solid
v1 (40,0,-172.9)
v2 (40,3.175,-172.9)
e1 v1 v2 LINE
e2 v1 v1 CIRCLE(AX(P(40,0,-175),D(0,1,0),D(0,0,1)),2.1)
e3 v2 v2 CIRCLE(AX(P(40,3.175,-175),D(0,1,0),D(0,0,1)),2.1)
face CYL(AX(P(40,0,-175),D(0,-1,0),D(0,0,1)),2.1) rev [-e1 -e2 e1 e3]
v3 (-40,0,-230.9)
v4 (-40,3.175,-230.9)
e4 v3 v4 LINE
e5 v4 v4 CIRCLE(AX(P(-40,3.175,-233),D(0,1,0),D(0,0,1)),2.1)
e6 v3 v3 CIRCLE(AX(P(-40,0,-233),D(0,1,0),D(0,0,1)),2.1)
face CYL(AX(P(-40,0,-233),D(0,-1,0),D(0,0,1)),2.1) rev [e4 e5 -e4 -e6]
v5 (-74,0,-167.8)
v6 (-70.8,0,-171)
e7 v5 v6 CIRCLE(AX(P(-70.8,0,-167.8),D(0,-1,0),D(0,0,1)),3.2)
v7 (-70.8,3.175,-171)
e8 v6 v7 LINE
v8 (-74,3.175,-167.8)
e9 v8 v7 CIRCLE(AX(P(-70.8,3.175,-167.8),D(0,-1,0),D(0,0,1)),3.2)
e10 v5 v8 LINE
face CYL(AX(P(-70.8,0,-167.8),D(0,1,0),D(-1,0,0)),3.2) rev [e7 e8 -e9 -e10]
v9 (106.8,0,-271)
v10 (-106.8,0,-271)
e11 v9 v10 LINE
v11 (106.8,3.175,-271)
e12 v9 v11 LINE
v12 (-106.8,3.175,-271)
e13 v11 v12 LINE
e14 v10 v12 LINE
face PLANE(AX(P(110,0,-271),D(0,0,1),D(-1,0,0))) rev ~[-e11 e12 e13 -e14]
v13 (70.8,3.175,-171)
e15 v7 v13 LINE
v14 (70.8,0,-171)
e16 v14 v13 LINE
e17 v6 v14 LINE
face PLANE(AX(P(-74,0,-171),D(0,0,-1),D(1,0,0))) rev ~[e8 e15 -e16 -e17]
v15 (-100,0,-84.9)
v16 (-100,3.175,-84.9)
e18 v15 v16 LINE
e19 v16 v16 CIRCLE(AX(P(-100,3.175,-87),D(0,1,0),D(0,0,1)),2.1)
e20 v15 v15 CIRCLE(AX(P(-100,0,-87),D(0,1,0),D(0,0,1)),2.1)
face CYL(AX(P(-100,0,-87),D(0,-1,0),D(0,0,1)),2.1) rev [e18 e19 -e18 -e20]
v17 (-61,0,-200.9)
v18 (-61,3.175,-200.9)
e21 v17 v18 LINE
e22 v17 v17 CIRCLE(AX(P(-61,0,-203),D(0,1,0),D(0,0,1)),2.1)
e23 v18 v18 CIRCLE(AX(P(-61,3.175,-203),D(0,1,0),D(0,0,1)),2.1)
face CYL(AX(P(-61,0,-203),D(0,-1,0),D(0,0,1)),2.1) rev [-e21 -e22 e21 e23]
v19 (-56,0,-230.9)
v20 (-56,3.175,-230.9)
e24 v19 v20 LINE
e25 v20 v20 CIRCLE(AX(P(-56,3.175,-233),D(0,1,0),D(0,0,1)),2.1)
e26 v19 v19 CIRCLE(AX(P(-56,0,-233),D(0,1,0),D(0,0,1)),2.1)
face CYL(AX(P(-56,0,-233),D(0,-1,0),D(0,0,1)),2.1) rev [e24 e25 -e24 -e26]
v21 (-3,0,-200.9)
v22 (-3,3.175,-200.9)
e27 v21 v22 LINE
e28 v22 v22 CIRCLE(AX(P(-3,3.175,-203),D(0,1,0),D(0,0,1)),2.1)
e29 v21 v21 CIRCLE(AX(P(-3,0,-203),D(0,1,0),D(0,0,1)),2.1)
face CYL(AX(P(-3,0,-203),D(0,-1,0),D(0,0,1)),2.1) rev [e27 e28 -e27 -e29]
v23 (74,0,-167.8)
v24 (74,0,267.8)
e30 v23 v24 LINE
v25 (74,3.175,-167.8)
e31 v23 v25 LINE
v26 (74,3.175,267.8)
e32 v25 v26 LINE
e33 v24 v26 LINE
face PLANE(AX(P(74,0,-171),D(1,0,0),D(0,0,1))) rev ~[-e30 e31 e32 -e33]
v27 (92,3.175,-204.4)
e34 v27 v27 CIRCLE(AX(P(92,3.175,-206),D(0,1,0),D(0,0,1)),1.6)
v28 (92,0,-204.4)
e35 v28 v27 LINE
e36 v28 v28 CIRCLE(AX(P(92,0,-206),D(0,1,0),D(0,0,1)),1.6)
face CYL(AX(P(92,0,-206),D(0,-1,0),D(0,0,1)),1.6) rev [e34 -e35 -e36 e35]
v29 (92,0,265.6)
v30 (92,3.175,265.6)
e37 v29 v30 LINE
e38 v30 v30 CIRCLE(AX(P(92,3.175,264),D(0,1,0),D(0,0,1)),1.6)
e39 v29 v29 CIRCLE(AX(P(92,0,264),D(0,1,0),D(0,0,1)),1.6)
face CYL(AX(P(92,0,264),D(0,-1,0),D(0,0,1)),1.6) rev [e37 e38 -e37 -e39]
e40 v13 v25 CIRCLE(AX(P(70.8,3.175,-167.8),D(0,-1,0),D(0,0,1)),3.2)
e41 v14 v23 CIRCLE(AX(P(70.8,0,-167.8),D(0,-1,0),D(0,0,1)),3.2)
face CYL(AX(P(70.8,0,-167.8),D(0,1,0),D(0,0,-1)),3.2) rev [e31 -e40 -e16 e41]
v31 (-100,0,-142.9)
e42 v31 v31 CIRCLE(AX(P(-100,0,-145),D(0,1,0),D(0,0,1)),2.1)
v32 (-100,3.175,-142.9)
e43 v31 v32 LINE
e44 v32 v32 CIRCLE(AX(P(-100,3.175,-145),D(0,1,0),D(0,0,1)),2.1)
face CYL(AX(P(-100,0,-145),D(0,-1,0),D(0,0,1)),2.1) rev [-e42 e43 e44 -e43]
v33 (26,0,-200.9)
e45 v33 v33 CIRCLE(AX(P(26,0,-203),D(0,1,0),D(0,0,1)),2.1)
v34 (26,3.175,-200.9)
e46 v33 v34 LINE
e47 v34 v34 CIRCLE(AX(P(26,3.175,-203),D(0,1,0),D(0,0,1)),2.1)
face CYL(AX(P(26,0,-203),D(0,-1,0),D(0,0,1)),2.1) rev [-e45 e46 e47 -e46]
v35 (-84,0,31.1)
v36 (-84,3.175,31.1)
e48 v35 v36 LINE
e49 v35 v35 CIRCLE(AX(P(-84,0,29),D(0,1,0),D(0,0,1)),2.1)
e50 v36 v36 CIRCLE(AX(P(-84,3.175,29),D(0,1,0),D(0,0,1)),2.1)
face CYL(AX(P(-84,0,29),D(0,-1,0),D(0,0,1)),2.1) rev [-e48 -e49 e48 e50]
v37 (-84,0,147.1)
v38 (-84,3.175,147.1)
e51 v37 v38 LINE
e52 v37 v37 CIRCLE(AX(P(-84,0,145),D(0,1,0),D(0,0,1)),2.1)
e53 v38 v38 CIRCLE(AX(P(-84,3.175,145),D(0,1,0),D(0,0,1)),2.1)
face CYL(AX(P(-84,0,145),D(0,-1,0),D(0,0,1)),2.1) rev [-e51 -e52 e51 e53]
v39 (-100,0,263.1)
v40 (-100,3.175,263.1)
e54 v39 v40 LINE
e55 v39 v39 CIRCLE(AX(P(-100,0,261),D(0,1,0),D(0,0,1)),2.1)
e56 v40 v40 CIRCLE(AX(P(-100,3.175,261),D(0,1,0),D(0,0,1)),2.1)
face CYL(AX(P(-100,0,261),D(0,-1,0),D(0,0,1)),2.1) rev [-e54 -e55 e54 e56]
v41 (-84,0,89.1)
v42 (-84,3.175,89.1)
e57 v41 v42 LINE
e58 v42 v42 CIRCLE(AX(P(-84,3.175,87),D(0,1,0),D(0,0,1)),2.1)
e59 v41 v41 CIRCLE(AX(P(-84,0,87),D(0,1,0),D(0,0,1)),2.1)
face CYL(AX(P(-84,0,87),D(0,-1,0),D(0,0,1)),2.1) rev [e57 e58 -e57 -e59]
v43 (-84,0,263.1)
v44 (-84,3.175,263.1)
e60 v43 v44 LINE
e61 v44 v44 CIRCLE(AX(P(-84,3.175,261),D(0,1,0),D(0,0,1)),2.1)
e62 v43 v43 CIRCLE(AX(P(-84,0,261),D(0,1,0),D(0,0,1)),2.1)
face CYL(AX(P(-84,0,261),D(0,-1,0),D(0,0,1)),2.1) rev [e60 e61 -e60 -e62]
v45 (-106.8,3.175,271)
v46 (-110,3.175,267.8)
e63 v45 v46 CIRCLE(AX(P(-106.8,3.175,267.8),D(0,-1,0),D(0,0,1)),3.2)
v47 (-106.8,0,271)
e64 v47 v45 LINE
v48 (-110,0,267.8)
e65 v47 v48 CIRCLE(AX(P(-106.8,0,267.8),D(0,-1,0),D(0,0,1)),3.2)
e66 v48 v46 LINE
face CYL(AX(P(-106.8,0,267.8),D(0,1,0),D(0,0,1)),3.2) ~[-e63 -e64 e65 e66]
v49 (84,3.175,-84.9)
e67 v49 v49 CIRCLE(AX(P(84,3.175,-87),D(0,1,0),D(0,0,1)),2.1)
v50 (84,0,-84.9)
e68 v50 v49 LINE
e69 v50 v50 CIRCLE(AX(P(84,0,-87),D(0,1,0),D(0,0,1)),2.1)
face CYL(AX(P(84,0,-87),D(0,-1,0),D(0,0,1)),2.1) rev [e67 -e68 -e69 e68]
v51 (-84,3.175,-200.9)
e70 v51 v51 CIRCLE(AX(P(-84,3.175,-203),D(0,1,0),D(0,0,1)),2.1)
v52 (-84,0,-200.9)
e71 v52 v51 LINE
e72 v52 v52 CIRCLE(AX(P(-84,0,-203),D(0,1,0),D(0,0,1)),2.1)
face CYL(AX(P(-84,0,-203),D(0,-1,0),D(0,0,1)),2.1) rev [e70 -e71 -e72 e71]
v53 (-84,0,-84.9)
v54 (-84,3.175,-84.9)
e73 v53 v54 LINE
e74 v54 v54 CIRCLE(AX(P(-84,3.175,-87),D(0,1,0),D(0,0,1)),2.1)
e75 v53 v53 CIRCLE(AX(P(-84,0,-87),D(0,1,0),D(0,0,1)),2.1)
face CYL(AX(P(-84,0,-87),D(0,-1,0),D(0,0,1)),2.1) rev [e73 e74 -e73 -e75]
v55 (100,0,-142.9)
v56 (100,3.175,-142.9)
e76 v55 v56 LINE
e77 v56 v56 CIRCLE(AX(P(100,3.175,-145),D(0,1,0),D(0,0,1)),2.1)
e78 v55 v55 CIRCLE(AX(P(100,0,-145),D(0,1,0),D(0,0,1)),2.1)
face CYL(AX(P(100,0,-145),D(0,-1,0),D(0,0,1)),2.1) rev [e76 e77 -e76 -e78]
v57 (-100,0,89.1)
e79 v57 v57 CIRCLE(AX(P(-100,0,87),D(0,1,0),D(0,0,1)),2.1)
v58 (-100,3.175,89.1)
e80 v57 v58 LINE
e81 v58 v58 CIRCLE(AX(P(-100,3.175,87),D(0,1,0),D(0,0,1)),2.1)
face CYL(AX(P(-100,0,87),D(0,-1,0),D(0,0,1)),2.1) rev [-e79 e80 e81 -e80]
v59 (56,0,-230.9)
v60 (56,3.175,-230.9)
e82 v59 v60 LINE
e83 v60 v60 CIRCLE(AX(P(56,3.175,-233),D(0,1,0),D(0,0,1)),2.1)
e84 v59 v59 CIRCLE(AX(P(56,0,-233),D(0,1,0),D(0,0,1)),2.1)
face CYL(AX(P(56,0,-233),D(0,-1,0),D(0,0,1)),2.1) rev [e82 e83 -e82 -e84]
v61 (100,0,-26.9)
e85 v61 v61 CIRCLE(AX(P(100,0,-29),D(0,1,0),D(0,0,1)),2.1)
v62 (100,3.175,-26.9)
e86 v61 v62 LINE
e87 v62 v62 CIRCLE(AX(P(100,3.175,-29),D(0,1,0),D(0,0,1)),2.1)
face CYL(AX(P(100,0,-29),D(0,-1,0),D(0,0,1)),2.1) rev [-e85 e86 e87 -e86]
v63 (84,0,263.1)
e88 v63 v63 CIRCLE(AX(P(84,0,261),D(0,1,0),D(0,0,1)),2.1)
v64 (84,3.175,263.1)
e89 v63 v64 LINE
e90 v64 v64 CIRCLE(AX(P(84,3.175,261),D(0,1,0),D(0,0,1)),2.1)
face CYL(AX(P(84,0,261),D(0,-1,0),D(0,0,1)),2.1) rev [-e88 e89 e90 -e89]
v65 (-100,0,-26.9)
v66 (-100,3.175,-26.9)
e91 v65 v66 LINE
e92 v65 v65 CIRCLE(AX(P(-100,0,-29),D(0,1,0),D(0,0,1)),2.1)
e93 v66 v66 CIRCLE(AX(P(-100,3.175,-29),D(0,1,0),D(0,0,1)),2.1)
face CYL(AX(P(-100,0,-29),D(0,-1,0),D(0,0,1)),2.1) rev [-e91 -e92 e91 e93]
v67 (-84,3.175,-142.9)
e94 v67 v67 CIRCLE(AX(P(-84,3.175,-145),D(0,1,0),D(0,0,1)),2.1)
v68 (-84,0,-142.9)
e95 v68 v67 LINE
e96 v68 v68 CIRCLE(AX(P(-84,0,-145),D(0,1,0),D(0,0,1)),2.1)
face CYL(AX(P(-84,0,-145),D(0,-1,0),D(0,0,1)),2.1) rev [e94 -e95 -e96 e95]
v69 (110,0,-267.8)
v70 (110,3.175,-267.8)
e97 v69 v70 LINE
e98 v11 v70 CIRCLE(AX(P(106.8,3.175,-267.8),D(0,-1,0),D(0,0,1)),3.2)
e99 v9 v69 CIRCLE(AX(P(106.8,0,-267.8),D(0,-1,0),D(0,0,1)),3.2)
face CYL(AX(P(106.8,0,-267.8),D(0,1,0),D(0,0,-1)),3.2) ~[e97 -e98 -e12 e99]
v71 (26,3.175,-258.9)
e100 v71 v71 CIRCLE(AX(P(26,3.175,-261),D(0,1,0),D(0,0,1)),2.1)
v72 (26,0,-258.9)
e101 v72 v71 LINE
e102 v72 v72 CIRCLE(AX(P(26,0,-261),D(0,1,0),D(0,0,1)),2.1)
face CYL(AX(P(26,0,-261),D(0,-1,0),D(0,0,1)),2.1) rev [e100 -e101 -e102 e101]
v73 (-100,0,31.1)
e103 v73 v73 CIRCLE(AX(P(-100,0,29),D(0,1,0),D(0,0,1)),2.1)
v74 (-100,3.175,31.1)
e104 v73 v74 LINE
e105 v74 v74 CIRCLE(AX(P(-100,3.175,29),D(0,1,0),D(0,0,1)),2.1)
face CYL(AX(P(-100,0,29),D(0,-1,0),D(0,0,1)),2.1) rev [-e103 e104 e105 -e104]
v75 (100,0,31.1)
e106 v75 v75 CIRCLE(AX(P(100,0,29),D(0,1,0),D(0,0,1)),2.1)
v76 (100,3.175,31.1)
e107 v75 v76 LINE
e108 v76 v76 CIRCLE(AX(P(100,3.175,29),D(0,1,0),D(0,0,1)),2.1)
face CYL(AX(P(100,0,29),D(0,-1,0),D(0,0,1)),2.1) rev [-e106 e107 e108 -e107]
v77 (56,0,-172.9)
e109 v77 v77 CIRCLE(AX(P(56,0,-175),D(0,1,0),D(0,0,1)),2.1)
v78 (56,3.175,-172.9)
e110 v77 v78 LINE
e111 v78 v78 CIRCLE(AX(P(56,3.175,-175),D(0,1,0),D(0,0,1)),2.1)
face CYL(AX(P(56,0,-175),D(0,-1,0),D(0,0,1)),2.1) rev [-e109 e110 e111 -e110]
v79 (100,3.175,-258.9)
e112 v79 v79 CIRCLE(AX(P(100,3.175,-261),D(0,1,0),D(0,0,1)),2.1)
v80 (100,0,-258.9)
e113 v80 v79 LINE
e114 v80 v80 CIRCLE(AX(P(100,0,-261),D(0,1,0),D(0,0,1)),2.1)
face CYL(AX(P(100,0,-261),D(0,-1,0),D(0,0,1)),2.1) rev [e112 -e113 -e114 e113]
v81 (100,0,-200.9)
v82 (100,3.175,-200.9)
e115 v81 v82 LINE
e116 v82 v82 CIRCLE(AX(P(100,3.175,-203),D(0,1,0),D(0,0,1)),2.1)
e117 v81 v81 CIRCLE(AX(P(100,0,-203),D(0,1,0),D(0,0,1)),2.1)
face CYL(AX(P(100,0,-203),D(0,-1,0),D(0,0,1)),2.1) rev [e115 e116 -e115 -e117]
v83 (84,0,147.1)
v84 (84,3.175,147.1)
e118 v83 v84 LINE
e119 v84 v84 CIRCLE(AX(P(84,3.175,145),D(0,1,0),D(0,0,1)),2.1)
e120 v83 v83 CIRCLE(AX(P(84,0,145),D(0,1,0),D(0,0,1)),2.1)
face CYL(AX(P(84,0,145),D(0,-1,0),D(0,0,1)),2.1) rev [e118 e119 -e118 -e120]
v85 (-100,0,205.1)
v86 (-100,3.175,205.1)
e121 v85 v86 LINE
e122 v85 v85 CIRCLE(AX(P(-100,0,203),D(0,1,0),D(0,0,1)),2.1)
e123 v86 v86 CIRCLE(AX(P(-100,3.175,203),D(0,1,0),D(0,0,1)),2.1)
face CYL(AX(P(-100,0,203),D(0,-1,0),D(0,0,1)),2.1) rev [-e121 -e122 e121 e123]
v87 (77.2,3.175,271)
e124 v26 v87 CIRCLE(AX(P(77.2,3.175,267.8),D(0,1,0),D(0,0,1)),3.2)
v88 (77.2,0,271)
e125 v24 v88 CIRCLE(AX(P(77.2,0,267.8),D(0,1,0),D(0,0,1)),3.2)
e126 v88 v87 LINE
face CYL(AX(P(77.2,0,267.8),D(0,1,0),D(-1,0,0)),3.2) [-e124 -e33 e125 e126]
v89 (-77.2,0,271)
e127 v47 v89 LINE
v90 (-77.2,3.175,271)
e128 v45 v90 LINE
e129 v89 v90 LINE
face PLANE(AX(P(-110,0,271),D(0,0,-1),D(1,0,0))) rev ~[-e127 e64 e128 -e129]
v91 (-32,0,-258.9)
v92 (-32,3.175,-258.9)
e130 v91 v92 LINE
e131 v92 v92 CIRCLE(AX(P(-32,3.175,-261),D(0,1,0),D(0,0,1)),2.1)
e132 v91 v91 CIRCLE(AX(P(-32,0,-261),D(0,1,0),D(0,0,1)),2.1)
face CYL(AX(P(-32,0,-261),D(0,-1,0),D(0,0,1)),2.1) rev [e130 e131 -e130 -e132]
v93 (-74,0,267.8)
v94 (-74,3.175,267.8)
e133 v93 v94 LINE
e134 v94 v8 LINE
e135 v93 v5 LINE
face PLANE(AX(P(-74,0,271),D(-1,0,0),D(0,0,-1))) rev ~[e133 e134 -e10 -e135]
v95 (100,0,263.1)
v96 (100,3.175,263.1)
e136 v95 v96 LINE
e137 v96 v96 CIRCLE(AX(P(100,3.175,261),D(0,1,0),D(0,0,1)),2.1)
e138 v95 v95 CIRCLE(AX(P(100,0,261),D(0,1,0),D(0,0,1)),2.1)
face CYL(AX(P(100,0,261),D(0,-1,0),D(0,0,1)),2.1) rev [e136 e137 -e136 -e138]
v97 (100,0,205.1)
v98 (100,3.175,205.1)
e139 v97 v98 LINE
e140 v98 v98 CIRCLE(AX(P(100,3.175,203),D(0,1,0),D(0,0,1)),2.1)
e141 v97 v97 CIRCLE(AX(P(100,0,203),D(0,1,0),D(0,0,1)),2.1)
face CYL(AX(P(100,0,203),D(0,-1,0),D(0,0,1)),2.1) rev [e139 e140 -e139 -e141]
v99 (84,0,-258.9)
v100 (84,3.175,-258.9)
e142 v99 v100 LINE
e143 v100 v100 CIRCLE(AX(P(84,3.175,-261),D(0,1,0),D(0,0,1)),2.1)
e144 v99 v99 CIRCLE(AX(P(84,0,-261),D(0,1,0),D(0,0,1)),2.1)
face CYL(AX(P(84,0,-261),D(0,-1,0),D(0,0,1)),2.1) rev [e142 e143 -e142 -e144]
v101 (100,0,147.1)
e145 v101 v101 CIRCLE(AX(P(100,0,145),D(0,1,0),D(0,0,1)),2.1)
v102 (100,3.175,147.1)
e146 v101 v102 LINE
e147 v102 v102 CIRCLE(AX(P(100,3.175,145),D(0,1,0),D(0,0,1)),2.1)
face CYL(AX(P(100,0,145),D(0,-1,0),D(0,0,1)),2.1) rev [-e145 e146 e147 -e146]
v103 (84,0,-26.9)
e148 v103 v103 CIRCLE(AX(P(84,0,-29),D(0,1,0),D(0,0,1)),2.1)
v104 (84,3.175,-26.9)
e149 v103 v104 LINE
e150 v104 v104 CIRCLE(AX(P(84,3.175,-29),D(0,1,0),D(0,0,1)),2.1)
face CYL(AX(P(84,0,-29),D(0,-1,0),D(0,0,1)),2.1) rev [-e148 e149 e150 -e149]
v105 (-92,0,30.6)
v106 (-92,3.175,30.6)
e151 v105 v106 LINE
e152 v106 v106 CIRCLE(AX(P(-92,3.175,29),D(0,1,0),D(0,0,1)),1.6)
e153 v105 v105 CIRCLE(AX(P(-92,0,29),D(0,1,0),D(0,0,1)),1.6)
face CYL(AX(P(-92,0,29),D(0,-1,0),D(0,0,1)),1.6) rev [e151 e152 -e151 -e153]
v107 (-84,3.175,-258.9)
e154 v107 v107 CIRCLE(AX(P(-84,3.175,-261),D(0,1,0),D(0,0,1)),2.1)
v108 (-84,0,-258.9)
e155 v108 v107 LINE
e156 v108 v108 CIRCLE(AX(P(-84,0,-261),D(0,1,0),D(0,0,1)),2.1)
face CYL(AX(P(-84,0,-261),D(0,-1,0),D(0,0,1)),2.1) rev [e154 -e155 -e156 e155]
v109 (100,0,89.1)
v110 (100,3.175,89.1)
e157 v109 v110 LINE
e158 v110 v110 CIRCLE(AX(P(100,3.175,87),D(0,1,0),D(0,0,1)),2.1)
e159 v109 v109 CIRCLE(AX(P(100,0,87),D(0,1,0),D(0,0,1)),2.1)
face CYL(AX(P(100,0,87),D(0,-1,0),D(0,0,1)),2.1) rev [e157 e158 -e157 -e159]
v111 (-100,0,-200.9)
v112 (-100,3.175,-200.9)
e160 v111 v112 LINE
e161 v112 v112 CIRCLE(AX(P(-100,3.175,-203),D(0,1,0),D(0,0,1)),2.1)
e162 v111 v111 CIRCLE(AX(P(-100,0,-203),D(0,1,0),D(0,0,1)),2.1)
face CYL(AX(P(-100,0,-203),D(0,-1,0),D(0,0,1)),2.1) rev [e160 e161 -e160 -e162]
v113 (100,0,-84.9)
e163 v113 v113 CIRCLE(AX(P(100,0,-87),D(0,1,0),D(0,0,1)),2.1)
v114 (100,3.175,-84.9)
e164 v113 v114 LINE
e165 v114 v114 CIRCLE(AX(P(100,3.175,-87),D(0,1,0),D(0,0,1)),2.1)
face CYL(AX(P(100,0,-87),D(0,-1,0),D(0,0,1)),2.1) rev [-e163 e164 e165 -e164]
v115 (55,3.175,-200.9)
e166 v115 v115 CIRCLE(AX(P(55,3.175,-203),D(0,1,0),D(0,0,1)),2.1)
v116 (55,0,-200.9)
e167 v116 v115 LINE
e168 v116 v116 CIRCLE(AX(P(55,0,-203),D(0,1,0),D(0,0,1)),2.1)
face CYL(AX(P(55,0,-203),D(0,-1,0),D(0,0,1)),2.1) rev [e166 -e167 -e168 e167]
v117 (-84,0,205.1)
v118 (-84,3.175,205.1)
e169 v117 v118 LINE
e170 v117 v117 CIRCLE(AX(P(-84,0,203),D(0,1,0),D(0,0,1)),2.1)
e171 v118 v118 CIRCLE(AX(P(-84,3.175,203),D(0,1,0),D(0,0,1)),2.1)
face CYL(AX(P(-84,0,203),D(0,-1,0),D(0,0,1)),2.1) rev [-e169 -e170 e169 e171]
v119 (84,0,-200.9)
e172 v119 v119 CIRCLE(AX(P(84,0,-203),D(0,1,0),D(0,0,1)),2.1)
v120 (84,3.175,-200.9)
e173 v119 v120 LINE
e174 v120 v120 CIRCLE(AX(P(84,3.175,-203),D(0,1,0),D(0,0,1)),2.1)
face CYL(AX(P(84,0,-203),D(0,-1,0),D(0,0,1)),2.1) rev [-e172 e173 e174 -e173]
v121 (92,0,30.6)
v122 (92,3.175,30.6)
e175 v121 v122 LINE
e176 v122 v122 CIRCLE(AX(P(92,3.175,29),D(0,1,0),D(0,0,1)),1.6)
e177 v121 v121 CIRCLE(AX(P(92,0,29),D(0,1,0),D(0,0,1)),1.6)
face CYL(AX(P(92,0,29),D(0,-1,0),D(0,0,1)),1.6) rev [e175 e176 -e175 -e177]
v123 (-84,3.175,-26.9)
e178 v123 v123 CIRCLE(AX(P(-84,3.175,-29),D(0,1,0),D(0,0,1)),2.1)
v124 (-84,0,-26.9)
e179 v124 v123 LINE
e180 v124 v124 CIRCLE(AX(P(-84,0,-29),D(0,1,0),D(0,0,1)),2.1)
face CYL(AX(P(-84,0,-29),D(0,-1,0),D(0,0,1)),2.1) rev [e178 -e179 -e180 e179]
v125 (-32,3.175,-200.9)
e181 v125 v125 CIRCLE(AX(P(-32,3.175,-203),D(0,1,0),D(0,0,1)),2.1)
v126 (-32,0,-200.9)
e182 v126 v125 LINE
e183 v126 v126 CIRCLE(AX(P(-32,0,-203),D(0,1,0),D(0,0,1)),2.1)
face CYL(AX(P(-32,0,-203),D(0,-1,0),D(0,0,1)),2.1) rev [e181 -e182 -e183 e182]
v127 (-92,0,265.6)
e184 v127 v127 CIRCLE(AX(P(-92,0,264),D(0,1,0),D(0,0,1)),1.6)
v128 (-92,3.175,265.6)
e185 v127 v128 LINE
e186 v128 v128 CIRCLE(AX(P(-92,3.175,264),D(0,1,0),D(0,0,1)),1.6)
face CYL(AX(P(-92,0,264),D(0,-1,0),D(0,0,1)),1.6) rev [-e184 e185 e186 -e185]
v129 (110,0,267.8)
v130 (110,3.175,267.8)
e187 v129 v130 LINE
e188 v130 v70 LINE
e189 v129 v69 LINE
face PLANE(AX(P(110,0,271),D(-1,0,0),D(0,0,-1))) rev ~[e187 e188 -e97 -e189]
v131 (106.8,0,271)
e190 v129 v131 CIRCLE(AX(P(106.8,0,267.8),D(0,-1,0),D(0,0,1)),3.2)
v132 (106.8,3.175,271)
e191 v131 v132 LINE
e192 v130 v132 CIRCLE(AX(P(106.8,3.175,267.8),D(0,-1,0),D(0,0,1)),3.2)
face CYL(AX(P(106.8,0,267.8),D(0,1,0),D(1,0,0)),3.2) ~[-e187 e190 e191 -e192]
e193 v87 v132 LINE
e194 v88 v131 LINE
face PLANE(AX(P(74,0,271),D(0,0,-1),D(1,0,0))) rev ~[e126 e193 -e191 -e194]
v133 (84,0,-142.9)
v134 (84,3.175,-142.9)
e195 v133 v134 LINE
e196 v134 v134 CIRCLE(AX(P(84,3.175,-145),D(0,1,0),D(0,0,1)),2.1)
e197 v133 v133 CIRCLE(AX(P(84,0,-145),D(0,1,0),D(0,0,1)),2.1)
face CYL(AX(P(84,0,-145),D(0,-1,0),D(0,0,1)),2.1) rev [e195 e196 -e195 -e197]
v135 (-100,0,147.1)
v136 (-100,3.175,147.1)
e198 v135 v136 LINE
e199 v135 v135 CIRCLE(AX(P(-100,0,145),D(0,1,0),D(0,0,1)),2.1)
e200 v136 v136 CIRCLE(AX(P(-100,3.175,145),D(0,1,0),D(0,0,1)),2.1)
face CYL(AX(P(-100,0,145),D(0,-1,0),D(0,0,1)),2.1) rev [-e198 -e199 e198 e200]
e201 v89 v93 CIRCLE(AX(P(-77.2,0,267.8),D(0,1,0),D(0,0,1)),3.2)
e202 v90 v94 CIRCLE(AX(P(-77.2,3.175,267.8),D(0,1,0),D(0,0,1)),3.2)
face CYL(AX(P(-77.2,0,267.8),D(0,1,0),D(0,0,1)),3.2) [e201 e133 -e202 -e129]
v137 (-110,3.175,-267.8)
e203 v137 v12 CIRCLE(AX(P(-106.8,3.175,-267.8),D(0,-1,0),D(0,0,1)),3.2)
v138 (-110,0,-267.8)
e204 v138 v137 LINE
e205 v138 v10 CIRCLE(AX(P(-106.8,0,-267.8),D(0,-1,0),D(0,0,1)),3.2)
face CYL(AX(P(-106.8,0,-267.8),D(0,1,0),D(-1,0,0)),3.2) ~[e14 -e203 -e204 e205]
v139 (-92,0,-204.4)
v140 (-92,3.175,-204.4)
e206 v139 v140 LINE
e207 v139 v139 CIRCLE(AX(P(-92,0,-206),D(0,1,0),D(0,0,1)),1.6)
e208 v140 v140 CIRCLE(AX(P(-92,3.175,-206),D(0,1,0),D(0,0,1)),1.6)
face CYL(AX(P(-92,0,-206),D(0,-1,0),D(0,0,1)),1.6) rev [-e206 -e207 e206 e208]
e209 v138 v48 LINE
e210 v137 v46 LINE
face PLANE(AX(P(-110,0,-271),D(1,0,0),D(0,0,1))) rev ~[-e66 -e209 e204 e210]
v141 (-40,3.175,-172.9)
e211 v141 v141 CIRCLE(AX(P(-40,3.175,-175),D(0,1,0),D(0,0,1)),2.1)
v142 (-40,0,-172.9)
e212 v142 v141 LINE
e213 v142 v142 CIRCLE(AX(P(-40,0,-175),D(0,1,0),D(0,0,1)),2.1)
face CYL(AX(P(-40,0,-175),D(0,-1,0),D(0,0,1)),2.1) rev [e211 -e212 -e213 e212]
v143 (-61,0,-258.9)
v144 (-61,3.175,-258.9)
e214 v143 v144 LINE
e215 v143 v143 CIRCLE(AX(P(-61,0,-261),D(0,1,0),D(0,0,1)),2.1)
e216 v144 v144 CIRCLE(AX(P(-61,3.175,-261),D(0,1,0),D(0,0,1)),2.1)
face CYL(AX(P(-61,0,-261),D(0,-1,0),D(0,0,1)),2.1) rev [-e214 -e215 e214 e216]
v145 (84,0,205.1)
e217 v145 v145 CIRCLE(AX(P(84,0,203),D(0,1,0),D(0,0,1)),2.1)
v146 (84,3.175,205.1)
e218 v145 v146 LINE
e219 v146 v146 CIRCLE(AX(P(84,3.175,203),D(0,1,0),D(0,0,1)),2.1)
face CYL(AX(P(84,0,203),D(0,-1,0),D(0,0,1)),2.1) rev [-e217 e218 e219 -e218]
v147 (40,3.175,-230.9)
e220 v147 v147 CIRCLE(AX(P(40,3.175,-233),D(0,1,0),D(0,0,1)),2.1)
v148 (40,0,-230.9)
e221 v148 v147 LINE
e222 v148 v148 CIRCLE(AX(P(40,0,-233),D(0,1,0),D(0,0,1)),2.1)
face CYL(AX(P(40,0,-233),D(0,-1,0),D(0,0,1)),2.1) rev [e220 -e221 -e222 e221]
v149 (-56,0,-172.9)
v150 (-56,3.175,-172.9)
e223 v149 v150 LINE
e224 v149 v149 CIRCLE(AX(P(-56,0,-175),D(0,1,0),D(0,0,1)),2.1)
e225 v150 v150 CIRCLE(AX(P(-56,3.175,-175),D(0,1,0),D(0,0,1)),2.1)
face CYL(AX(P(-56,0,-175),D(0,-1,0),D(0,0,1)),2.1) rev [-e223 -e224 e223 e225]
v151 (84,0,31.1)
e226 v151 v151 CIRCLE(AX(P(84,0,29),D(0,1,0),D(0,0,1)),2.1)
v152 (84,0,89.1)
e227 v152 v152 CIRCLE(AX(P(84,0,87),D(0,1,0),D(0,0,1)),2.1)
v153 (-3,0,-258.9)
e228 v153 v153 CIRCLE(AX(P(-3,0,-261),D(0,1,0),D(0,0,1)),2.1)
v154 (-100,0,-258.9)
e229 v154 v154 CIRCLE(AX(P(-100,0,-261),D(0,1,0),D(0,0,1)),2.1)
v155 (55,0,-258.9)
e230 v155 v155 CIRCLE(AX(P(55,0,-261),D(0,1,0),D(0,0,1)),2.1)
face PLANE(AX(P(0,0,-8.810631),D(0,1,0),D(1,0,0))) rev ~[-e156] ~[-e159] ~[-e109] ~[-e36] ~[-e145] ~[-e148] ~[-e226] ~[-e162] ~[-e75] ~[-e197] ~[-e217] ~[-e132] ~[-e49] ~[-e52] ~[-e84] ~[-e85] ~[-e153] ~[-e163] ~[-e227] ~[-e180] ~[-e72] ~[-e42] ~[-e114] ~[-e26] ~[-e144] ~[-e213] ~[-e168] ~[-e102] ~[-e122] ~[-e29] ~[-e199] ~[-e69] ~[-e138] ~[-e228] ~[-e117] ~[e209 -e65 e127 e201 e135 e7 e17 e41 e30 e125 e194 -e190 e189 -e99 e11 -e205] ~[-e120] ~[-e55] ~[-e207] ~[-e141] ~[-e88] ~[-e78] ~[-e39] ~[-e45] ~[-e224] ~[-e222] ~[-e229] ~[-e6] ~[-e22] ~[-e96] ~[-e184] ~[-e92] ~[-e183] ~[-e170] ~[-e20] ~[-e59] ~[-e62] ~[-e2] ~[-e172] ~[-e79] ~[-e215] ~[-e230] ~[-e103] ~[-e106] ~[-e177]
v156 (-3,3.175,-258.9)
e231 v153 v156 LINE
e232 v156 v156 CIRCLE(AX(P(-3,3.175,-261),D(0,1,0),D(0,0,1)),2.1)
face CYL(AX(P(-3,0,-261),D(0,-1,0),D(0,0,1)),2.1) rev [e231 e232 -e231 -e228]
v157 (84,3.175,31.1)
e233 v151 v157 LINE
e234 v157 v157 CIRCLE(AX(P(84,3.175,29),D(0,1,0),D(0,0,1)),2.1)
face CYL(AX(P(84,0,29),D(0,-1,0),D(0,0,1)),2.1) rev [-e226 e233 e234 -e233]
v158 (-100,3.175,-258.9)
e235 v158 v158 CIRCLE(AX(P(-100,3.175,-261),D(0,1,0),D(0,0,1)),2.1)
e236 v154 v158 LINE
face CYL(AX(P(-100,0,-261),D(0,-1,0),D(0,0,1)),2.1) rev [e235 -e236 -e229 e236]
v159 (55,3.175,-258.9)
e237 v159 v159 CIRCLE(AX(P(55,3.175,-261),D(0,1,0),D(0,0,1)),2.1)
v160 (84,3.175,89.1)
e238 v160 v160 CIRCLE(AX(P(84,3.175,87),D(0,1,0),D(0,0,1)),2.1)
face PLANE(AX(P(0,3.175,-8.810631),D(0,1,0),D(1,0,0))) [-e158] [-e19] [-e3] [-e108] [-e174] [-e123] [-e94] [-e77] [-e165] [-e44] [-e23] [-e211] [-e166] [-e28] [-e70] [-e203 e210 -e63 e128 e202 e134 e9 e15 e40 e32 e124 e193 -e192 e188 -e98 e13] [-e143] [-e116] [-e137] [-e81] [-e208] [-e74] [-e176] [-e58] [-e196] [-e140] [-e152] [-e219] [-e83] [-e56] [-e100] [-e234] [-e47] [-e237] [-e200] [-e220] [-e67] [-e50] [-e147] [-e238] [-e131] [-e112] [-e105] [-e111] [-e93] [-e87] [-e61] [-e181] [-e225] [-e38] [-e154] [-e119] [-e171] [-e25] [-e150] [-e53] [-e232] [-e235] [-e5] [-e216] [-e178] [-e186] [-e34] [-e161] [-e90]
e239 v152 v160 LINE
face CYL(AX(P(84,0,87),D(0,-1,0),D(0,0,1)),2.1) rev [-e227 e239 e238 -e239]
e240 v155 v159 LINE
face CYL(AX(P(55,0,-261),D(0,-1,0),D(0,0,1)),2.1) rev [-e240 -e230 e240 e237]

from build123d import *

# Parameters (mm, degrees)
SKETCH1_R           = 2.1
SKETCH1_R_2         = 1.6
BOSS_EXTRUDE1_DEPTH = 3.175
FILLET1_R           = 3.2


with BuildPart() as part:
    # Sketch1 → Boss-Extrude1 (new body)
    with BuildSketch(Plane(origin=(0, 0, 0), x_dir=(1, 0, 0), z_dir=(0, 1, 0))):
        Polygon((-110, -271), (-74, -271), (-74, 171), (74, 171), (74, -271), (110, -271), (110, 271), (-110, 271), align=None)
        with Locations(Location((100, 261, 0), (0, 0, 270))):
            Circle(SKETCH1_R, mode=Mode.SUBTRACT)
        with Locations(Location((100, 203, 0), (0, 0, 270))):
            Circle(SKETCH1_R, mode=Mode.SUBTRACT)
        with Locations(Location((100, 145, 0), (0, 0, 270))):
            Circle(SKETCH1_R, mode=Mode.SUBTRACT)
        with Locations(Location((100, 87, 0), (0, 0, 270))):
            Circle(SKETCH1_R, mode=Mode.SUBTRACT)
        with Locations(Location((100, 29, 0), (0, 0, 270))):
            Circle(SKETCH1_R, mode=Mode.SUBTRACT)
        with Locations(Location((100, -29, 0), (0, 0, 270))):
            Circle(SKETCH1_R, mode=Mode.SUBTRACT)
        with Locations(Location((100, -87, 0), (0, 0, 270))):
            Circle(SKETCH1_R, mode=Mode.SUBTRACT)
        with Locations(Location((100, -145, 0), (0, 0, 270))):
            Circle(SKETCH1_R, mode=Mode.SUBTRACT)
        with Locations(Location((100, -203, 0), (0, 0, 270))):
            Circle(SKETCH1_R, mode=Mode.SUBTRACT)
        with Locations(Location((100, -261, 0), (0, 0, 270))):
            Circle(SKETCH1_R, mode=Mode.SUBTRACT)
        with Locations(Location((84, -261, 0), (0, 0, 270))):
            Circle(SKETCH1_R, mode=Mode.SUBTRACT)
        with Locations(Location((84, -203, 0), (0, 0, 270))):
            Circle(SKETCH1_R, mode=Mode.SUBTRACT)
        with Locations(Location((84, -145, 0), (0, 0, 270))):
            Circle(SKETCH1_R, mode=Mode.SUBTRACT)
        with Locations(Location((84, -87, 0), (0, 0, 270))):
            Circle(SKETCH1_R, mode=Mode.SUBTRACT)
        with Locations(Location((84, -29, 0), (0, 0, 270))):
            Circle(SKETCH1_R, mode=Mode.SUBTRACT)
        with Locations(Location((84, 29, 0), (0, 0, 270))):
            Circle(SKETCH1_R, mode=Mode.SUBTRACT)
        with Locations(Location((84, 87, 0), (0, 0, 270))):
            Circle(SKETCH1_R, mode=Mode.SUBTRACT)
        with Locations(Location((84, 145, 0), (0, 0, 270))):
            Circle(SKETCH1_R, mode=Mode.SUBTRACT)
        with Locations(Location((84, 203, 0), (0, 0, 270))):
            Circle(SKETCH1_R, mode=Mode.SUBTRACT)
        with Locations(Location((84, 261, 0), (0, 0, 270))):
            Circle(SKETCH1_R, mode=Mode.SUBTRACT)
        with Locations(Location((92, -29, 0), (0, 0, 270))):
            Circle(SKETCH1_R_2, mode=Mode.SUBTRACT)
        with Locations(Location((92, 206, 0), (0, 0, 270))):
            Circle(SKETCH1_R_2, mode=Mode.SUBTRACT)
        with Locations(Location((92, -264, 0), (0, 0, 270))):
            Circle(SKETCH1_R_2, mode=Mode.SUBTRACT)
        with Locations(Location((-100, 261, 0), (0, 0, 270))):
            Circle(SKETCH1_R, mode=Mode.SUBTRACT)
        with Locations(Location((-84, 261, 0), (0, 0, 270))):
            Circle(SKETCH1_R, mode=Mode.SUBTRACT)
        with Locations(Location((-92, 206, 0), (0, 0, 270))):
            Circle(SKETCH1_R_2, mode=Mode.SUBTRACT)
        with Locations(Location((-84, 87, 0), (0, 0, 270))):
            Circle(SKETCH1_R, mode=Mode.SUBTRACT)
        with Locations(Location((-100, 87, 0), (0, 0, 270))):
            Circle(SKETCH1_R, mode=Mode.SUBTRACT)
        with Locations(Location((-100, 145, 0), (0, 0, 270))):
            Circle(SKETCH1_R, mode=Mode.SUBTRACT)
        with Locations(Location((-100, 203, 0), (0, 0, 270))):
            Circle(SKETCH1_R, mode=Mode.SUBTRACT)
        with Locations(Location((-92, -264, 0), (0, 0, 270))):
            Circle(SKETCH1_R_2, mode=Mode.SUBTRACT)
        with Locations(Location((-92, -29, 0), (0, 0, 270))):
            Circle(SKETCH1_R_2, mode=Mode.SUBTRACT)
        with Locations(Location((-84, 29, 0), (0, 0, 270))):
            Circle(SKETCH1_R, mode=Mode.SUBTRACT)
        with Locations(Location((-84, -29, 0), (0, 0, 270))):
            Circle(SKETCH1_R, mode=Mode.SUBTRACT)
        with Locations(Location((-84, -87, 0), (0, 0, 270))):
            Circle(SKETCH1_R, mode=Mode.SUBTRACT)
        with Locations(Location((-84, -145, 0), (0, 0, 270))):
            Circle(SKETCH1_R, mode=Mode.SUBTRACT)
        with Locations(Location((-84, -203, 0), (0, 0, 270))):
            Circle(SKETCH1_R, mode=Mode.SUBTRACT)
        with Locations(Location((-84, -261, 0), (0, 0, 270))):
            Circle(SKETCH1_R, mode=Mode.SUBTRACT)
        with Locations(Location((-100, -261, 0), (0, 0, 270))):
            Circle(SKETCH1_R, mode=Mode.SUBTRACT)
        with Locations(Location((-100, -203, 0), (0, 0, 270))):
            Circle(SKETCH1_R, mode=Mode.SUBTRACT)
        with Locations(Location((-100, -145, 0), (0, 0, 270))):
            Circle(SKETCH1_R, mode=Mode.SUBTRACT)
        with Locations(Location((-100, -87, 0), (0, 0, 270))):
            Circle(SKETCH1_R, mode=Mode.SUBTRACT)
        with Locations(Location((-100, -29, 0), (0, 0, 270))):
            Circle(SKETCH1_R, mode=Mode.SUBTRACT)
        with Locations(Location((-100, 29, 0), (0, 0, 270))):
            Circle(SKETCH1_R, mode=Mode.SUBTRACT)
        with Locations(Location((-84, 203, 0), (0, 0, 270))):
            Circle(SKETCH1_R, mode=Mode.SUBTRACT)
        with Locations(Location((-84, 145, 0), (0, 0, 270))):
            Circle(SKETCH1_R, mode=Mode.SUBTRACT)
        with Locations(Location((55, 261, 0), (0, 0, 270))):
            Circle(SKETCH1_R, mode=Mode.SUBTRACT)
        with Locations(Location((26, 261, 0), (0, 0, 270))):
            Circle(SKETCH1_R, mode=Mode.SUBTRACT)
        with Locations(Location((-3, 261, 0), (0, 0, 270))):
            Circle(SKETCH1_R, mode=Mode.SUBTRACT)
        with Locations(Location((-32, 261, 0), (0, 0, 270))):
            Circle(SKETCH1_R, mode=Mode.SUBTRACT)
        with Locations(Location((-61, 261, 0), (0, 0, 270))):
            Circle(SKETCH1_R, mode=Mode.SUBTRACT)
        with Locations(Location((55, 203, 0), (0, 0, 270))):
            Circle(SKETCH1_R, mode=Mode.SUBTRACT)
        with Locations(Location((26, 203, 0), (0, 0, 270))):
            Circle(SKETCH1_R, mode=Mode.SUBTRACT)
        with Locations(Location((-3, 203, 0), (0, 0, 270))):
            Circle(SKETCH1_R, mode=Mode.SUBTRACT)
        with Locations(Location((-32, 203, 0), (0, 0, 270))):
            Circle(SKETCH1_R, mode=Mode.SUBTRACT)
        with Locations(Location((-61, 203, 0), (0, 0, 270))):
            Circle(SKETCH1_R, mode=Mode.SUBTRACT)
        with Locations(Location((-56, 175, 0), (0, 0, 270))):
            Circle(SKETCH1_R, mode=Mode.SUBTRACT)
        with Locations(Location((-40, 175, 0), (0, 0, 270))):
            Circle(SKETCH1_R, mode=Mode.SUBTRACT)
        with Locations(Location((-40, 233, 0), (0, 0, 270))):
            Circle(SKETCH1_R, mode=Mode.SUBTRACT)
        with Locations(Location((-56, 233, 0), (0, 0, 270))):
            Circle(SKETCH1_R, mode=Mode.SUBTRACT)
        with Locations(Location((40, 175, 0), (0, 0, 270))):
            Circle(SKETCH1_R, mode=Mode.SUBTRACT)
        with Locations(Location((56, 175, 0), (0, 0, 270))):
            Circle(SKETCH1_R, mode=Mode.SUBTRACT)
        with Locations(Location((56, 233, 0), (0, 0, 270))):
            Circle(SKETCH1_R, mode=Mode.SUBTRACT)
        with Locations(Location((40, 233, 0), (0, 0, 270))):
            Circle(SKETCH1_R, mode=Mode.SUBTRACT)
    extrude(amount=BOSS_EXTRUDE1_DEPTH)

    # Fillet1
    fillet1_edges = [part.edges().sort_by_distance(p)[0] for p in [
        (74, 1.5875, -171),
        (-74, 1.5875, -171),
        (-74, 1.5875, 271),
        (-110, 1.5875, 271),
        (-110, 1.5875, -271),
        (110, 1.5875, -271),
        (110, 1.5875, 271),
        (74, 1.5875, 271),
    ]]
    fillet(fillet1_edges, radius=FILLET1_R)


solid = part.part
